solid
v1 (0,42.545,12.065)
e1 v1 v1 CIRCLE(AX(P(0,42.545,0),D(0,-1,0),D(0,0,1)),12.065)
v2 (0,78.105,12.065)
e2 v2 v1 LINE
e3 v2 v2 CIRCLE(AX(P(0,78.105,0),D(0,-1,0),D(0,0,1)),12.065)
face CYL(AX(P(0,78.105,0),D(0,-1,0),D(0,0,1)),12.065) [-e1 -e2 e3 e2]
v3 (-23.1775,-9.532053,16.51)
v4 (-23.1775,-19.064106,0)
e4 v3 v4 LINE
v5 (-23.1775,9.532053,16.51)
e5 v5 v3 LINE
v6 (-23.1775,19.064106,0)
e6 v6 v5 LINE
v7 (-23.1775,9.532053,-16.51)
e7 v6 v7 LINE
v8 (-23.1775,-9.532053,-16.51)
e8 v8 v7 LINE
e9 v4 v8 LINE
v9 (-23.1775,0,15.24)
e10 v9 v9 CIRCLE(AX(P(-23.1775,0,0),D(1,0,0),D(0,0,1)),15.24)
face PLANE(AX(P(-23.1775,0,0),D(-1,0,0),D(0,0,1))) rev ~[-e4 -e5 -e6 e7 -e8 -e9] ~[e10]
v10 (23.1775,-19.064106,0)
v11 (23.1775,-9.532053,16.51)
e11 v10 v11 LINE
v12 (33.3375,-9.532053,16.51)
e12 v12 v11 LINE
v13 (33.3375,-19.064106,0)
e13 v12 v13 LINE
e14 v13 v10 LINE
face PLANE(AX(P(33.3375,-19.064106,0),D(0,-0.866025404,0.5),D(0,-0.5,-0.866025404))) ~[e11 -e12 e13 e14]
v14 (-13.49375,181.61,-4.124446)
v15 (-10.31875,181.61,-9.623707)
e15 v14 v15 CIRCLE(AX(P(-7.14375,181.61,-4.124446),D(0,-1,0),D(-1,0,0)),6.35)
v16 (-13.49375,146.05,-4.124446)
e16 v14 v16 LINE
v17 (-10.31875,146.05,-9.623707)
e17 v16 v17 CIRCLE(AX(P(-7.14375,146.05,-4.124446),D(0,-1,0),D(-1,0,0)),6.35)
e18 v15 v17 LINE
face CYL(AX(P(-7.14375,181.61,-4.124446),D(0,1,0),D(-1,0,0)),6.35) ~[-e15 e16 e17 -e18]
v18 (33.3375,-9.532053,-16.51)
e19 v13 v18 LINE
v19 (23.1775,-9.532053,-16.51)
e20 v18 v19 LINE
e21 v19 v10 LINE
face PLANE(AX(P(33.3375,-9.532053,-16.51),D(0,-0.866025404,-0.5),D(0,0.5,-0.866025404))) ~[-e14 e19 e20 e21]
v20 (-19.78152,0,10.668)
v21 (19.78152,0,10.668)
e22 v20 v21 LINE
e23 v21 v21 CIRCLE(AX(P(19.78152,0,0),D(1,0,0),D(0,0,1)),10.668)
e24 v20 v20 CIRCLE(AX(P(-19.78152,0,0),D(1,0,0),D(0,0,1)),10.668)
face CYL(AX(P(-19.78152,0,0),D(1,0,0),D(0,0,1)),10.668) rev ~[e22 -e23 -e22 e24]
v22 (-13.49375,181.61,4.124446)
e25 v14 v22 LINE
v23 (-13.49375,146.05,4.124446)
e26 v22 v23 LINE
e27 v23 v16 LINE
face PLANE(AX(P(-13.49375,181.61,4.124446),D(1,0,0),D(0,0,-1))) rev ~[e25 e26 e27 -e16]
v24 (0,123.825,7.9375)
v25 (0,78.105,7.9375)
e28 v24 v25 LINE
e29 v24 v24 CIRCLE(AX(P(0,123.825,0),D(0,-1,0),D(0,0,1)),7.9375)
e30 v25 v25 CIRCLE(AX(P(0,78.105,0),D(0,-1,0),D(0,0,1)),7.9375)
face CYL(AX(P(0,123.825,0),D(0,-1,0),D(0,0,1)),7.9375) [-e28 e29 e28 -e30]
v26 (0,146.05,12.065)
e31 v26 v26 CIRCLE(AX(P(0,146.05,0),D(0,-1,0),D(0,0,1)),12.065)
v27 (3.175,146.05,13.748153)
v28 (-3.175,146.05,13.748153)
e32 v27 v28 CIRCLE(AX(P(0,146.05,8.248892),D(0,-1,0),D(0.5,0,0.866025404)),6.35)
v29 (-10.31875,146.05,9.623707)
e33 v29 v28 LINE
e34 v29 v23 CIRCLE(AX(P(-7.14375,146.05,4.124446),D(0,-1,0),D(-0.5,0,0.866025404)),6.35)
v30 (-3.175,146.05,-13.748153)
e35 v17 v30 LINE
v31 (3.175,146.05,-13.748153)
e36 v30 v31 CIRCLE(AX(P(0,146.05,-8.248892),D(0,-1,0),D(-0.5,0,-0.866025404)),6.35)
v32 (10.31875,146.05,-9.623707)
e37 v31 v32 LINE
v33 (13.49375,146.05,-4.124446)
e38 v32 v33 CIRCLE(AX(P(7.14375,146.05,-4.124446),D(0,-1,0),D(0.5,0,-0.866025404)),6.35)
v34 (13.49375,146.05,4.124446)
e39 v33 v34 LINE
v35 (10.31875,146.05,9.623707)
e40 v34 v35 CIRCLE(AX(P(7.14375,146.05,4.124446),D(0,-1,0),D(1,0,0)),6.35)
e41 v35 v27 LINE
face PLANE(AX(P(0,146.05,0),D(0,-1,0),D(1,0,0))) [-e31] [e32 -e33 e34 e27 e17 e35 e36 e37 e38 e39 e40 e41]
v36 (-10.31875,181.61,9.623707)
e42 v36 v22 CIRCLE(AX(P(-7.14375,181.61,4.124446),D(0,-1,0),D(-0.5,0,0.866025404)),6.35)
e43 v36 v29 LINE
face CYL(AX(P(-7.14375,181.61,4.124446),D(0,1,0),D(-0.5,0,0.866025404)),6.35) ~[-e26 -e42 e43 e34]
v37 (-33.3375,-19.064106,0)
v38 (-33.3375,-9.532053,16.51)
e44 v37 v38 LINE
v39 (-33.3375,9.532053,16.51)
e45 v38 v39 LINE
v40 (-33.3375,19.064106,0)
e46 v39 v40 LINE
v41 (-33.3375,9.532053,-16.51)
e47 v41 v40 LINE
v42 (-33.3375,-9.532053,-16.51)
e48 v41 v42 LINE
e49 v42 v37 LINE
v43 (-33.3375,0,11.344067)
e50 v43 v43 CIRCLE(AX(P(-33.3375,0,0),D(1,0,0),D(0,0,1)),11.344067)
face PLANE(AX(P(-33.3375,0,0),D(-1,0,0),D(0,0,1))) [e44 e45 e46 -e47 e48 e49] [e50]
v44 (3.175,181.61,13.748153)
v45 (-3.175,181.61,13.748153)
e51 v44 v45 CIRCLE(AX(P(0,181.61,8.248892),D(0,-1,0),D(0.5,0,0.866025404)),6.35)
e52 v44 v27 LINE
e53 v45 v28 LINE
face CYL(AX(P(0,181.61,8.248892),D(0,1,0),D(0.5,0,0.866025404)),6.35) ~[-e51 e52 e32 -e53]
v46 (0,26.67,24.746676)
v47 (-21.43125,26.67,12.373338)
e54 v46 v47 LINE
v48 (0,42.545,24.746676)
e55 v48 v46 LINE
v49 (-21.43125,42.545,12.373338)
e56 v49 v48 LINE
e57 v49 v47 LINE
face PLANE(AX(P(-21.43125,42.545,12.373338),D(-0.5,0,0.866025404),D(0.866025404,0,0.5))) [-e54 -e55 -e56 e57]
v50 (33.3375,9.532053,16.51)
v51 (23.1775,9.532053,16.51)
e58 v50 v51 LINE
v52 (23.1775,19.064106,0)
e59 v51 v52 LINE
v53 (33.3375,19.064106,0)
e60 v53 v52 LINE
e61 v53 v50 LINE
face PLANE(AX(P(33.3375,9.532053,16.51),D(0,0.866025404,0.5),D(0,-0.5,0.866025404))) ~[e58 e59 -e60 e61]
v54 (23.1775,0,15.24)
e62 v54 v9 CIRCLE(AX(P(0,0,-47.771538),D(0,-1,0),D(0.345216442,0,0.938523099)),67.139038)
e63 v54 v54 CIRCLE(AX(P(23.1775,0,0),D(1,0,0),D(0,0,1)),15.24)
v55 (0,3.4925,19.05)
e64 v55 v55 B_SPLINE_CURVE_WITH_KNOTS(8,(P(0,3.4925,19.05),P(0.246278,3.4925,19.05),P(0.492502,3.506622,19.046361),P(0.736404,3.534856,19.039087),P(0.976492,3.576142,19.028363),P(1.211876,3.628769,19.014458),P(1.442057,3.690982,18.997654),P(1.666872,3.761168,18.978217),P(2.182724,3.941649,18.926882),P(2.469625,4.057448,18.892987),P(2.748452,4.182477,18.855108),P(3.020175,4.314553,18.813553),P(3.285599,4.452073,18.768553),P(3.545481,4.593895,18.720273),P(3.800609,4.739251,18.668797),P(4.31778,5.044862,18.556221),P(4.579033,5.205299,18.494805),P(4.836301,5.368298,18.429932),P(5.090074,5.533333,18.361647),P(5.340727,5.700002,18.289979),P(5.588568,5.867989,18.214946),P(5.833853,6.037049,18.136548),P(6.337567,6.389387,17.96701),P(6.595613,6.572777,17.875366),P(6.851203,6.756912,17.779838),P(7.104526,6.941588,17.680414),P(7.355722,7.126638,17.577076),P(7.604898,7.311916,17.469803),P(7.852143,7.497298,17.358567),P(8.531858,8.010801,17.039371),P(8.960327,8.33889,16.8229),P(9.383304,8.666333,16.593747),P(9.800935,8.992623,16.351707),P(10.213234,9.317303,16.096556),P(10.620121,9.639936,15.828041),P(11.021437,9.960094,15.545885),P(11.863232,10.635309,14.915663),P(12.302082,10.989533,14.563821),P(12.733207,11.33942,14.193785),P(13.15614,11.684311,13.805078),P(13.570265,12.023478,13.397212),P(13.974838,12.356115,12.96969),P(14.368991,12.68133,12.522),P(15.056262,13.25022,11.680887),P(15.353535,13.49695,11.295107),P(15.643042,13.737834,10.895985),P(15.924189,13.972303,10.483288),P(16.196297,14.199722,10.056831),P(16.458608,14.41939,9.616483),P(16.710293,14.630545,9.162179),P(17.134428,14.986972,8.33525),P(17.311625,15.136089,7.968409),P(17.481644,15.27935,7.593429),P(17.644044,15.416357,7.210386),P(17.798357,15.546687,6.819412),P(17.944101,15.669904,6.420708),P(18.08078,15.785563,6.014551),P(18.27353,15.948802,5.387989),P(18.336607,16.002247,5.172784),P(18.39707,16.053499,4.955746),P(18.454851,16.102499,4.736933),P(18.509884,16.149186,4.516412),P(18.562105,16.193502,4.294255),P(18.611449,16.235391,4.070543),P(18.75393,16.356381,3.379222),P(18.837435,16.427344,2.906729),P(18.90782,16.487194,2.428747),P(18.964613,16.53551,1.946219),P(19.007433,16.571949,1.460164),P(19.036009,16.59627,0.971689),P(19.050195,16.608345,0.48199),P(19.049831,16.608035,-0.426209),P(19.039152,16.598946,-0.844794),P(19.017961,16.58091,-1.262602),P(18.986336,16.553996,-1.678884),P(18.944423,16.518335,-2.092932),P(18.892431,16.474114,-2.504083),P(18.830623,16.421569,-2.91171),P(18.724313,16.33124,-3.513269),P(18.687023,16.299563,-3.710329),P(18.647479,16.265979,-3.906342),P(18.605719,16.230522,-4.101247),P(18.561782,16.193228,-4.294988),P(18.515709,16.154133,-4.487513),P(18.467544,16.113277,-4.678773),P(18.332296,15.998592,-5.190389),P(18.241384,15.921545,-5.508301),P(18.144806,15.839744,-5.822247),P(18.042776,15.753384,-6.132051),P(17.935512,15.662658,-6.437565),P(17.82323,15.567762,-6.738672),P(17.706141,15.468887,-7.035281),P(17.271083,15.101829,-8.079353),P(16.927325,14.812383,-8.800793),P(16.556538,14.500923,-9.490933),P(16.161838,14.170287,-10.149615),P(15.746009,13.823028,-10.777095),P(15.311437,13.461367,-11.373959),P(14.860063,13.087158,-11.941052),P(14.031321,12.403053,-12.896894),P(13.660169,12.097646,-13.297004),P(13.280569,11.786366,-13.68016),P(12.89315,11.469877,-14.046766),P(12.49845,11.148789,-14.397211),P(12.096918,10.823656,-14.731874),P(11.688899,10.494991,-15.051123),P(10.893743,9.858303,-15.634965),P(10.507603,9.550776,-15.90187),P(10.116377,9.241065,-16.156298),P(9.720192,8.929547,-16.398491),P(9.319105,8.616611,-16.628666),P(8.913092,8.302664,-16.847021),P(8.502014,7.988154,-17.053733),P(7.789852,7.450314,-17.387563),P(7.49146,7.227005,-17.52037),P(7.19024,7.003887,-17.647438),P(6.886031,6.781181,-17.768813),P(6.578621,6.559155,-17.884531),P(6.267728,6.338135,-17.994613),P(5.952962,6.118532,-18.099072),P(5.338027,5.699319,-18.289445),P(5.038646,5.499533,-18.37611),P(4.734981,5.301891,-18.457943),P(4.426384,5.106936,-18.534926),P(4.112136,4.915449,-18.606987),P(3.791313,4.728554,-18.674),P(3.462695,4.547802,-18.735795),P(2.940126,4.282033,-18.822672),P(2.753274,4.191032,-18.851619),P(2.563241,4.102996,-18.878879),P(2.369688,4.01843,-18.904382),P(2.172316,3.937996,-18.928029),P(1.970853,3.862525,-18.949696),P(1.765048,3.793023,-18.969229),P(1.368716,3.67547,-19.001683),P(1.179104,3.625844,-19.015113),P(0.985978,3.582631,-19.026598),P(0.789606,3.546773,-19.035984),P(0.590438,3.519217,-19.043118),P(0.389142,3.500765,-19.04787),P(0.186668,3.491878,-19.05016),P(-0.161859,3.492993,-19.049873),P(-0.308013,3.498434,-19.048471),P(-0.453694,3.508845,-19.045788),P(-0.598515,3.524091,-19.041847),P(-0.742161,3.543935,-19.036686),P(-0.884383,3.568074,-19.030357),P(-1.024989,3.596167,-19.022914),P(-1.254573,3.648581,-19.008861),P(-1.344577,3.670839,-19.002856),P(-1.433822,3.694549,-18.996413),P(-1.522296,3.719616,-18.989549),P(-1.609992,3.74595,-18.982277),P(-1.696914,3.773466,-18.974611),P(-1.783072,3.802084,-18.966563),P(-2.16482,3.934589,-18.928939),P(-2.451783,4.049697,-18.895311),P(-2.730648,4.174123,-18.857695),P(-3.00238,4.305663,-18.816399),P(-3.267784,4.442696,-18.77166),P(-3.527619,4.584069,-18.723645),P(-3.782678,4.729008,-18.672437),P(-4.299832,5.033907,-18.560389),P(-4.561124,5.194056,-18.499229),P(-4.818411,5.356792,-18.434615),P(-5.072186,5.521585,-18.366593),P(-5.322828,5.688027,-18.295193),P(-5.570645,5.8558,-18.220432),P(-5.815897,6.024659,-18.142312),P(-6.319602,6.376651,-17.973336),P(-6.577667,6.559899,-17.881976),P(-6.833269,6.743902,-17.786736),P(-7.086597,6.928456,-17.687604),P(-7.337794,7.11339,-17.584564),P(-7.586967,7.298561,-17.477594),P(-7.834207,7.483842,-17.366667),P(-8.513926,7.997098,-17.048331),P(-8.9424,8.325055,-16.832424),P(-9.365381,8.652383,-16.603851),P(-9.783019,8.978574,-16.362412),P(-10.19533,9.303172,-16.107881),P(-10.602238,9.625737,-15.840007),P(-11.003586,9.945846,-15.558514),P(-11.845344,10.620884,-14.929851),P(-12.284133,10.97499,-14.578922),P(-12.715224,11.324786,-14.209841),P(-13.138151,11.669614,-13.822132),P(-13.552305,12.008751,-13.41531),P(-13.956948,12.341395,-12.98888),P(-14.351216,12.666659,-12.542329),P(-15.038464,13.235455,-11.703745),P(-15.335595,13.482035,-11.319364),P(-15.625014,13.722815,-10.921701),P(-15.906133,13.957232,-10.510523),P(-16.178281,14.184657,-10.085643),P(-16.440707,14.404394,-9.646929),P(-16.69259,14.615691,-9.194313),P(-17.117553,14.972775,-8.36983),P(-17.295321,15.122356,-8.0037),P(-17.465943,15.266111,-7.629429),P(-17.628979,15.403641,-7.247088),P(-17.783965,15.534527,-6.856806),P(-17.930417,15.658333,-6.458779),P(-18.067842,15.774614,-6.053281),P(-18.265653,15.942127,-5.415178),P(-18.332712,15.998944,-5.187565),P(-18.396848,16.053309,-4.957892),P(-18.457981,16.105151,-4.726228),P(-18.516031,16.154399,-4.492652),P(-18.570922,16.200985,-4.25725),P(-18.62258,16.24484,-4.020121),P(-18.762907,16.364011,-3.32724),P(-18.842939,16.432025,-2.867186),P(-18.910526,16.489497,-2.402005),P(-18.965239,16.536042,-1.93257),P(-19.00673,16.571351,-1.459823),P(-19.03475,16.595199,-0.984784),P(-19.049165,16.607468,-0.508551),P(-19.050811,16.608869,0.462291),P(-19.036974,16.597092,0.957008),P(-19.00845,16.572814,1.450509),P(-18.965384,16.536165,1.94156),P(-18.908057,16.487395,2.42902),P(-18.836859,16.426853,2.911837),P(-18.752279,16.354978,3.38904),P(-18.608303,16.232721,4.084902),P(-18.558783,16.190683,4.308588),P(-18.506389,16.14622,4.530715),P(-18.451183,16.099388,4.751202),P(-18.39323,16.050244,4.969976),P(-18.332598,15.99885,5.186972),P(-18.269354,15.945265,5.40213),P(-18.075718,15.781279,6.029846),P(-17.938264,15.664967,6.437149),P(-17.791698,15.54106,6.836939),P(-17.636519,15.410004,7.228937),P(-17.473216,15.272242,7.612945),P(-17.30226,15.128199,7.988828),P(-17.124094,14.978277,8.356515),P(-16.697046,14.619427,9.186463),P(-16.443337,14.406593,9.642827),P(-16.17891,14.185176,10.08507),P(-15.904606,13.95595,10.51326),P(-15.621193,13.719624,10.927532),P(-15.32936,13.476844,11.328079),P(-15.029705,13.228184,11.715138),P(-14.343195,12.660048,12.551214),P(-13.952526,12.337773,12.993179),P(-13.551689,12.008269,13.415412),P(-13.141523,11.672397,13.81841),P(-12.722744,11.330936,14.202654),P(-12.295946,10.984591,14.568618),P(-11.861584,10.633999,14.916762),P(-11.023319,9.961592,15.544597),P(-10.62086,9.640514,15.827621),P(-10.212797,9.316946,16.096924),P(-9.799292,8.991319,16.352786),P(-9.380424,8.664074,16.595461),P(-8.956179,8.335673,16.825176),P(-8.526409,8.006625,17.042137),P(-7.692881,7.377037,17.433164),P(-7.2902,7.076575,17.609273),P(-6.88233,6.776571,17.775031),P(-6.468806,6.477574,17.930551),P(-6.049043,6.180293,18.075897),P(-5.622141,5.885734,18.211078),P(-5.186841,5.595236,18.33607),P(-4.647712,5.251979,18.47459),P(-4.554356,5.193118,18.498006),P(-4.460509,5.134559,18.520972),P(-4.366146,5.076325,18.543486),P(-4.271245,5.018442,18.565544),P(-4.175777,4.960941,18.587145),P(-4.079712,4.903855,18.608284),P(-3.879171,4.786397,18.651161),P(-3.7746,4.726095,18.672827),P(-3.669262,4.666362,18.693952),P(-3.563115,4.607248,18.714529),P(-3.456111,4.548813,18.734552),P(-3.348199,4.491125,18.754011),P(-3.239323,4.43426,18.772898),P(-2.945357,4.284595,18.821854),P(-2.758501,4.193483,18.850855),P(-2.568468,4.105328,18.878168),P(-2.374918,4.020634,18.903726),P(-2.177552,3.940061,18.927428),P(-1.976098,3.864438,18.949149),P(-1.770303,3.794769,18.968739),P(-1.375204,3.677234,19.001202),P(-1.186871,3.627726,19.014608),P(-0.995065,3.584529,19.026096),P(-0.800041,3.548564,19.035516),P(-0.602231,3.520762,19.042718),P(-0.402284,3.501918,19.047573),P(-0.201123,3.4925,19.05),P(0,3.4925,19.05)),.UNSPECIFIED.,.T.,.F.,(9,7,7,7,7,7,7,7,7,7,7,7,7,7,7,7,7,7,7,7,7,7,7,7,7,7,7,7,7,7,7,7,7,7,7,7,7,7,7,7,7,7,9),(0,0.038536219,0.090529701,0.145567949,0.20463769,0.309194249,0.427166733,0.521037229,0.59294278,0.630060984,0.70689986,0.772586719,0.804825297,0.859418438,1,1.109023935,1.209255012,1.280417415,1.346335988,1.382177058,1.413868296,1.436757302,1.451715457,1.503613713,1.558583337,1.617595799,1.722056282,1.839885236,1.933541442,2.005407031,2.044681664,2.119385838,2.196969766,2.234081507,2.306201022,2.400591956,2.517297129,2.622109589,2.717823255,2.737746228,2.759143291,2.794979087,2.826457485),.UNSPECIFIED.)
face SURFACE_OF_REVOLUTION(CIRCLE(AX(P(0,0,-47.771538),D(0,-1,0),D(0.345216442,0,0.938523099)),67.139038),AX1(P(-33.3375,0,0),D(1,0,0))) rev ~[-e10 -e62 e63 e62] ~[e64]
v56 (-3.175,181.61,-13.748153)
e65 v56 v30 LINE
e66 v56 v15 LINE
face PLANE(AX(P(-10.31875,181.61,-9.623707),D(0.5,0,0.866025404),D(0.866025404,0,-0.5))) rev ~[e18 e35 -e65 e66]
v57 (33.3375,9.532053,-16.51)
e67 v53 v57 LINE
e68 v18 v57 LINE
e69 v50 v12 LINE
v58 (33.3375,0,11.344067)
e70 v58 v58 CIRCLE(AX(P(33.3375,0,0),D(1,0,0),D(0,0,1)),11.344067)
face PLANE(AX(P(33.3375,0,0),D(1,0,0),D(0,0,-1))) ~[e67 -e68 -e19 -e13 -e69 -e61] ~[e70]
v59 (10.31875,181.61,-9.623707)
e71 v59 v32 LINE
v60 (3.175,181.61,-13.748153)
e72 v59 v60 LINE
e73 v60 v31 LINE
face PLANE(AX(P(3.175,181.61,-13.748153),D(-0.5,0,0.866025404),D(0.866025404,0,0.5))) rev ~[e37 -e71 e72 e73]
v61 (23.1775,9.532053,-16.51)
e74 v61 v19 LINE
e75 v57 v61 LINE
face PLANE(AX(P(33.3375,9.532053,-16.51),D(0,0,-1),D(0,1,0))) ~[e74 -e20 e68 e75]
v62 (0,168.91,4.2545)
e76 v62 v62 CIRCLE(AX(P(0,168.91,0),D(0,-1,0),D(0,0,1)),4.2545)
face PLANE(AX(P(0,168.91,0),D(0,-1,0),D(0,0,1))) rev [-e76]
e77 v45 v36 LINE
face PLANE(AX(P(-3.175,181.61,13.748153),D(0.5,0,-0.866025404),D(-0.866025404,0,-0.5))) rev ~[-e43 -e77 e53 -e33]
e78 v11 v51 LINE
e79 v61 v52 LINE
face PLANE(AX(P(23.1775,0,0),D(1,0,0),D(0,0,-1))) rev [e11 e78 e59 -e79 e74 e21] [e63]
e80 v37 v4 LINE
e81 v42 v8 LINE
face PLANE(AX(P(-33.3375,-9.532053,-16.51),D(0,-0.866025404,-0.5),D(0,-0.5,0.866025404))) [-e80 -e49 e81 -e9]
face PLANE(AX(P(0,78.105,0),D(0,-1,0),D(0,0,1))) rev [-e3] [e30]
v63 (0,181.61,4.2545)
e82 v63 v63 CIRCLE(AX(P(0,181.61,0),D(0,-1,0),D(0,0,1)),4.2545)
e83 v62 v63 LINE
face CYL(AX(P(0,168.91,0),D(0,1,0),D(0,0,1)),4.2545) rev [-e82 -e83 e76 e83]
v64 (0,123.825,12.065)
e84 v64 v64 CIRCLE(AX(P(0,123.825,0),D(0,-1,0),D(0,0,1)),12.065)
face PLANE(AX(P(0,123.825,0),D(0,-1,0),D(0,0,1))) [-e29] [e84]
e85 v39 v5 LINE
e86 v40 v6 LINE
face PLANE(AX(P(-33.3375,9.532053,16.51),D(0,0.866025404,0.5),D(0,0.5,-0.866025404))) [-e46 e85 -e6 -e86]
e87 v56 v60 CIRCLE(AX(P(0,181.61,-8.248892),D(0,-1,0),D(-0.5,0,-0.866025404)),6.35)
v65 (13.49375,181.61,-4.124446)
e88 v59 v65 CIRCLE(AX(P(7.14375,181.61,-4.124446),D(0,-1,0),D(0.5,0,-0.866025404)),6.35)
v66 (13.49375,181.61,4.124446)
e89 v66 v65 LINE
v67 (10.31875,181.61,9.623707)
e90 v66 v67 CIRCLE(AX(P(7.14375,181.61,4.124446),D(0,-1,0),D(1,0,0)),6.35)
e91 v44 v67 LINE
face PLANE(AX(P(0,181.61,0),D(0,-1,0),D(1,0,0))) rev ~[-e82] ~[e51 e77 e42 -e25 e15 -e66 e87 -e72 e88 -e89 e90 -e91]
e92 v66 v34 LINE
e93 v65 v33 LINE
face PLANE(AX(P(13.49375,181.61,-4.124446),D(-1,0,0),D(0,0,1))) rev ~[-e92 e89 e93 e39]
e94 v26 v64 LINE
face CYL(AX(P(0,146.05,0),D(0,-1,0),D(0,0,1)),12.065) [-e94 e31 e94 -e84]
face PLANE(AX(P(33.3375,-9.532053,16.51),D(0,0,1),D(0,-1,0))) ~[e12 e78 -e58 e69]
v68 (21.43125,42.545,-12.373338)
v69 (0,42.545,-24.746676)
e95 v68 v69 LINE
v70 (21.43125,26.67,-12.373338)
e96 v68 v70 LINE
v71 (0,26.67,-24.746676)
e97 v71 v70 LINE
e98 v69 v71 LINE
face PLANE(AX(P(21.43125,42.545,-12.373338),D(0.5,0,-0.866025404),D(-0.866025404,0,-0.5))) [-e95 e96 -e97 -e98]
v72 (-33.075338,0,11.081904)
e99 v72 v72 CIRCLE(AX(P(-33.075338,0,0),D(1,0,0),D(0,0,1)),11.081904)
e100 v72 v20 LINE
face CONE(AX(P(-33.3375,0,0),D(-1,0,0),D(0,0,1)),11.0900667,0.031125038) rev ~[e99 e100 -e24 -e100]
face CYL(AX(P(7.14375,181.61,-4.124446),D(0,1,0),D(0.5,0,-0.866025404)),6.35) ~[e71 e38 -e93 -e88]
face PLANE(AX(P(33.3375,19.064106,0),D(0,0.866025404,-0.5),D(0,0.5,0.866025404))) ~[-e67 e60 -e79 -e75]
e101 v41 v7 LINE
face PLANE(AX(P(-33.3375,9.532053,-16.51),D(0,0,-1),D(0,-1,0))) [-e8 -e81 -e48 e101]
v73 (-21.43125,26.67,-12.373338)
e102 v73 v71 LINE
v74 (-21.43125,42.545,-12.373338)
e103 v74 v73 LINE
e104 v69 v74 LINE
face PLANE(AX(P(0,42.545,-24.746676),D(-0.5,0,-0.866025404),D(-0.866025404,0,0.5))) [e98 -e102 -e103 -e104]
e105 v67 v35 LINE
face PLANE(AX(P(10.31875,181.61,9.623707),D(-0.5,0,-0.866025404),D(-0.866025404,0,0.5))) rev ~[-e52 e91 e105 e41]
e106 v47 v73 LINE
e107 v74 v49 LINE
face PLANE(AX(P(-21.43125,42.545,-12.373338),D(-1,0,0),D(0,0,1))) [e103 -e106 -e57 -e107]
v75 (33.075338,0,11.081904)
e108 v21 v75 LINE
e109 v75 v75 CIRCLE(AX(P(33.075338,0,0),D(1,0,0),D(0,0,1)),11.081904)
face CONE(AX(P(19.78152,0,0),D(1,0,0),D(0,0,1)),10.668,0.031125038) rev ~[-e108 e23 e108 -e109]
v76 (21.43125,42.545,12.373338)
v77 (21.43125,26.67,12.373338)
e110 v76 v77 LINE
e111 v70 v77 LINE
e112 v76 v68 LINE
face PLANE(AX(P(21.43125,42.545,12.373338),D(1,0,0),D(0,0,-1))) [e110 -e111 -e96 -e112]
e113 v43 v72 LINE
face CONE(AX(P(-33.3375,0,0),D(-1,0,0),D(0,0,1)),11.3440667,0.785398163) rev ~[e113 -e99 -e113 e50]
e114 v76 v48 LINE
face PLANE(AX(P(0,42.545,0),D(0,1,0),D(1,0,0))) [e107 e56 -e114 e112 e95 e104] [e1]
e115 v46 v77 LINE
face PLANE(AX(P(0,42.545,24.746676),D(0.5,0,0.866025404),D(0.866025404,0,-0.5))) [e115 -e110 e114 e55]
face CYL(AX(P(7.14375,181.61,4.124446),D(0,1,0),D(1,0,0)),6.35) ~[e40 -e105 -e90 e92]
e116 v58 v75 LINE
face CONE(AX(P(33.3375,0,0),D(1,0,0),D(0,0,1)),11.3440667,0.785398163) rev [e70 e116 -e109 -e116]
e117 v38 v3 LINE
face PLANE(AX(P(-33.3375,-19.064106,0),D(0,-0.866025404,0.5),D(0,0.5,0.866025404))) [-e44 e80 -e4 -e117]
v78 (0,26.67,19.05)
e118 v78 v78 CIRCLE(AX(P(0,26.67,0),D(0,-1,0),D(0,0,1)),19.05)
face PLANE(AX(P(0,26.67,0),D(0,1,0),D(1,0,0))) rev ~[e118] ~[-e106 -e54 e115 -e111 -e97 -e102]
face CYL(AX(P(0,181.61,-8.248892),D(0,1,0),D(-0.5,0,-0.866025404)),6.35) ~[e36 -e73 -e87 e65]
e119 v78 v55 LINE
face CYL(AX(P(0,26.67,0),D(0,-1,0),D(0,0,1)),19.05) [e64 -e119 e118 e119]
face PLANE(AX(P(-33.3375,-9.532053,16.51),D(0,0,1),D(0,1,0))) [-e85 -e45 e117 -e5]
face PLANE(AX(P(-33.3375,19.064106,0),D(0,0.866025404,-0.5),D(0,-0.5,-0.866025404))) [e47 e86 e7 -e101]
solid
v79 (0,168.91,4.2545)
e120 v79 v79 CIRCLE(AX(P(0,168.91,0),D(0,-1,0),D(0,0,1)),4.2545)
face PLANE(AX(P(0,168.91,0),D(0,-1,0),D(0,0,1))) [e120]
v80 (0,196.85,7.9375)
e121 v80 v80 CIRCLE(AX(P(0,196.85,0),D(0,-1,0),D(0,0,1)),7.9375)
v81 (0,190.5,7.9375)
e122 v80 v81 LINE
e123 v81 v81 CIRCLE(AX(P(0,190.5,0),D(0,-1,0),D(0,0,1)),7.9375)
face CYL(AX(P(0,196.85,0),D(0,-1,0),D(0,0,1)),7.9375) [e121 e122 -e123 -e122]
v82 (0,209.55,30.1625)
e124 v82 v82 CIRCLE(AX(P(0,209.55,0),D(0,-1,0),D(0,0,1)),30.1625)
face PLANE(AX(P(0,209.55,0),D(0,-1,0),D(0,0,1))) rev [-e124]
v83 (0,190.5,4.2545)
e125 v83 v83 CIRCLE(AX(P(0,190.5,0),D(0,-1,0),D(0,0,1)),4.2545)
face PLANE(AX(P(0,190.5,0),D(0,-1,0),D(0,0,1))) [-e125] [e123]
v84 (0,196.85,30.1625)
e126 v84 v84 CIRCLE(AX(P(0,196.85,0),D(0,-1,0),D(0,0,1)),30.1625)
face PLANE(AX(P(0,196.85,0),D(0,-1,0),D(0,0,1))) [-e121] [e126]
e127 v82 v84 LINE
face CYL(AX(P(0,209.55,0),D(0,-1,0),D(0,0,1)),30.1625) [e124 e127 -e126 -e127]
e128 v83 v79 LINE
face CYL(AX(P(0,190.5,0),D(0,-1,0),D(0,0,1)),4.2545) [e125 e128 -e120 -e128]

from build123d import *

# Parameters (mm, degrees)
CUT_EXTRUDE1_DEPTH      = 186.884048489
CUT_EXTRUDE1_DEPTH_BACK = 186.884048489
SKETCH3_R               = 10.668
SKETCH4_R               = 11.0900667
BOSS_EXTRUDE1_DEPTH     = 10.16
BOSS_EXTRUDE2_DEPTH     = 15.875
SKETCH9_R               = 4.2545
BOSS_EXTRUDE4_DEPTH     = 35.56


with BuildPart() as part:
    # Sketch1 → Revolve1 (revolve)
    with BuildSketch(Plane.XY, mode=Mode.PRIVATE) as revolve1_sk:
        with BuildLine():
            Line((-33.3375, 11.0900667), (-19.78152, 10.668))
            Line((-19.78152, 10.668), (19.78152, 10.668))
            Line((19.78152, 10.668), (33.3375, 11.0900667))
            Line((33.3375, 11.0900667), (33.3375, 16.51))
            Line((33.3375, 16.51), (23.1775, 16.51))
            Line((23.1775, 16.51), (23.1775, 15.24))
            ThreePointArc((23.1775, 15.24), (0, 19.3675), (-23.1775, 15.24))
            Line((-23.1775, 15.24), (-23.1775, 16.51))
            Line((-23.1775, 16.51), (-33.3375, 16.51))
            Line((-33.3375, 16.51), (-33.3375, 11.0900667))
        make_face()
    revolve(revolve1_sk.sketch.rotate(Axis((-33.3375, 0, 0), (1, 0, 0)), 90), axis=Axis((-33.3375, 0, 0), (1, 0, 0)))

    # Sketch2 → Revolve2 (revolve)
    with BuildSketch(Plane.XY, mode=Mode.PRIVATE) as revolve2_sk:
        Polygon((0, 0), (0, 168.91), (4.2545, 168.91), (4.2545, 181.61), (13.49375, 181.61), (13.49375, 146.05), (12.065, 146.05), (12.065, 123.825), (7.9375, 123.825), (7.9375, 78.105), (12.065, 78.105), (12.065, 42.545), (21.43125, 42.545), (21.43125, 26.67), (19.05, 26.67), (19.05, 0), align=None)
    revolve(revolve2_sk.sketch.rotate(Axis((0, 0, 0), (0, -1, 0)), 90), axis=Axis((0, 0, 0), (0, -1, 0)))

    # Sketch3 → Cut-Extrude1 (cut, two sides: drawn at the far end of the back side and taken through both)
    with BuildSketch(Plane(origin=(0, 0, 0), x_dir=(0, 0, -1), z_dir=(1, 0, 0)).offset(-CUT_EXTRUDE1_DEPTH_BACK)):
        with Locations(Location((0, 0, 0), (0, 0, 180))):
            Circle(SKETCH3_R)
    extrude(amount=CUT_EXTRUDE1_DEPTH + CUT_EXTRUDE1_DEPTH_BACK, mode=Mode.SUBTRACT)

    # Sketch4 → Boss-Extrude1 (add)
    with BuildSketch(Plane.ZY.offset(33.3375)):
        Polygon((0, 19.064105889), (-16.51, 9.532052944), (-16.51, -9.532052944), (0, -19.064105889), (16.51, -9.532052944), (16.51, 9.532052944), align=None)
        Circle(SKETCH4_R, mode=Mode.SUBTRACT)
    boss_extrude1 = extrude(amount=-BOSS_EXTRUDE1_DEPTH)

    # Cut-Extrude3 cone 1 section (through the dimple's axis) → Cut-Extrude3 (revolve, cut)
    with BuildSketch(Plane(origin=(-33.3375, 0, 0), x_dir=(0, 0, 1), z_dir=(0, 1, 0))):
        Polygon((0, 0), (11.3440667, 0), (0, 11.3440667), align=None)
    cut_extrude3 = revolve(axis=Axis((-33.3375, 0, 0), (1, 0, 0)), mode=Mode.SUBTRACT)

    # Mirror1: Boss-Extrude1, Cut-Extrude3 across plane
    add(boss_extrude1.mirror(Plane(origin=(0, 0, 0), x_dir=(0, 0, 1), z_dir=(1, 0, 0))))
    add(cut_extrude3.mirror(Plane(origin=(0, 0, 0), x_dir=(0, 0, 1), z_dir=(1, 0, 0))), mode=Mode.SUBTRACT)

    # Sketch8 → Boss-Extrude2 (add)
    with BuildSketch(Plane(origin=(0, 42.545, 0), x_dir=(1, 0, 0), z_dir=(0, 1, 0))):
        Polygon((0, -24.746675913), (21.43125, -12.373337957), (21.43125, 12.373337957), (0, 24.746675913), (-21.43125, 12.373337957), (-21.43125, -12.373337957), align=None)
    extrude(amount=-BOSS_EXTRUDE2_DEPTH)

    # Sketch9 → Boss-Extrude4 (add)
    with BuildSketch(Plane(origin=(0, 181.61, -183.515), x_dir=(1, 0, 0), z_dir=(0, -1, 0))):
        with BuildLine():
            Line((-3.175, 197.263153285), (-10.31875, 193.1387073))
            ThreePointArc((-10.31875, 193.1387073), (-12.643011314, 190.814445986), (-13.49375, 187.639445986))
            Line((-13.49375, 187.639445986), (-13.49375, 179.390554014))
            ThreePointArc((-13.49375, 179.390554014), (-12.643011314, 176.215554014), (-10.31875, 173.8912927))
            Line((-10.31875, 173.8912927), (-3.175, 169.766846715))
            ThreePointArc((-3.175, 169.766846715), (0, 168.916108029), (3.175, 169.766846715))
            Line((3.175, 169.766846715), (10.31875, 173.8912927))
            ThreePointArc((10.31875, 173.8912927), (12.643011314, 176.215554014), (13.49375, 179.390554014))
            Line((13.49375, 179.390554014), (13.49375, 187.639445986))
            ThreePointArc((13.49375, 187.639445986), (12.643011314, 190.814445986), (10.31875, 193.1387073))
            Line((10.31875, 193.1387073), (3.175, 197.263153285))
            ThreePointArc((3.175, 197.263153285), (0, 198.113891971), (-3.175, 197.263153285))
        make_face()
        with Locations(Location((0, 183.515, 0), (0, 0, 90))):
            Circle(SKETCH9_R, mode=Mode.SUBTRACT)
    extrude(amount=BOSS_EXTRUDE4_DEPTH)


with BuildPart() as body_2:
    # Sketch11 → Revolve4 (revolve)
    with BuildSketch(Plane.XY, mode=Mode.PRIVATE) as revolve4_sk:
        Polygon((0, 168.91), (0, 209.55), (-30.1625, 209.55), (-30.1625, 196.85), (-7.9375, 196.85), (-7.9375, 190.5), (-4.2545, 190.5), (-4.2545, 168.91), align=None)
    revolve(revolve4_sk.sketch.rotate(Axis((0, 168.91, 0), (0, -1, 0)), 270), axis=Axis((0, 168.91, 0), (0, -1, 0)))


solid = Compound([part.part, body_2.part])
